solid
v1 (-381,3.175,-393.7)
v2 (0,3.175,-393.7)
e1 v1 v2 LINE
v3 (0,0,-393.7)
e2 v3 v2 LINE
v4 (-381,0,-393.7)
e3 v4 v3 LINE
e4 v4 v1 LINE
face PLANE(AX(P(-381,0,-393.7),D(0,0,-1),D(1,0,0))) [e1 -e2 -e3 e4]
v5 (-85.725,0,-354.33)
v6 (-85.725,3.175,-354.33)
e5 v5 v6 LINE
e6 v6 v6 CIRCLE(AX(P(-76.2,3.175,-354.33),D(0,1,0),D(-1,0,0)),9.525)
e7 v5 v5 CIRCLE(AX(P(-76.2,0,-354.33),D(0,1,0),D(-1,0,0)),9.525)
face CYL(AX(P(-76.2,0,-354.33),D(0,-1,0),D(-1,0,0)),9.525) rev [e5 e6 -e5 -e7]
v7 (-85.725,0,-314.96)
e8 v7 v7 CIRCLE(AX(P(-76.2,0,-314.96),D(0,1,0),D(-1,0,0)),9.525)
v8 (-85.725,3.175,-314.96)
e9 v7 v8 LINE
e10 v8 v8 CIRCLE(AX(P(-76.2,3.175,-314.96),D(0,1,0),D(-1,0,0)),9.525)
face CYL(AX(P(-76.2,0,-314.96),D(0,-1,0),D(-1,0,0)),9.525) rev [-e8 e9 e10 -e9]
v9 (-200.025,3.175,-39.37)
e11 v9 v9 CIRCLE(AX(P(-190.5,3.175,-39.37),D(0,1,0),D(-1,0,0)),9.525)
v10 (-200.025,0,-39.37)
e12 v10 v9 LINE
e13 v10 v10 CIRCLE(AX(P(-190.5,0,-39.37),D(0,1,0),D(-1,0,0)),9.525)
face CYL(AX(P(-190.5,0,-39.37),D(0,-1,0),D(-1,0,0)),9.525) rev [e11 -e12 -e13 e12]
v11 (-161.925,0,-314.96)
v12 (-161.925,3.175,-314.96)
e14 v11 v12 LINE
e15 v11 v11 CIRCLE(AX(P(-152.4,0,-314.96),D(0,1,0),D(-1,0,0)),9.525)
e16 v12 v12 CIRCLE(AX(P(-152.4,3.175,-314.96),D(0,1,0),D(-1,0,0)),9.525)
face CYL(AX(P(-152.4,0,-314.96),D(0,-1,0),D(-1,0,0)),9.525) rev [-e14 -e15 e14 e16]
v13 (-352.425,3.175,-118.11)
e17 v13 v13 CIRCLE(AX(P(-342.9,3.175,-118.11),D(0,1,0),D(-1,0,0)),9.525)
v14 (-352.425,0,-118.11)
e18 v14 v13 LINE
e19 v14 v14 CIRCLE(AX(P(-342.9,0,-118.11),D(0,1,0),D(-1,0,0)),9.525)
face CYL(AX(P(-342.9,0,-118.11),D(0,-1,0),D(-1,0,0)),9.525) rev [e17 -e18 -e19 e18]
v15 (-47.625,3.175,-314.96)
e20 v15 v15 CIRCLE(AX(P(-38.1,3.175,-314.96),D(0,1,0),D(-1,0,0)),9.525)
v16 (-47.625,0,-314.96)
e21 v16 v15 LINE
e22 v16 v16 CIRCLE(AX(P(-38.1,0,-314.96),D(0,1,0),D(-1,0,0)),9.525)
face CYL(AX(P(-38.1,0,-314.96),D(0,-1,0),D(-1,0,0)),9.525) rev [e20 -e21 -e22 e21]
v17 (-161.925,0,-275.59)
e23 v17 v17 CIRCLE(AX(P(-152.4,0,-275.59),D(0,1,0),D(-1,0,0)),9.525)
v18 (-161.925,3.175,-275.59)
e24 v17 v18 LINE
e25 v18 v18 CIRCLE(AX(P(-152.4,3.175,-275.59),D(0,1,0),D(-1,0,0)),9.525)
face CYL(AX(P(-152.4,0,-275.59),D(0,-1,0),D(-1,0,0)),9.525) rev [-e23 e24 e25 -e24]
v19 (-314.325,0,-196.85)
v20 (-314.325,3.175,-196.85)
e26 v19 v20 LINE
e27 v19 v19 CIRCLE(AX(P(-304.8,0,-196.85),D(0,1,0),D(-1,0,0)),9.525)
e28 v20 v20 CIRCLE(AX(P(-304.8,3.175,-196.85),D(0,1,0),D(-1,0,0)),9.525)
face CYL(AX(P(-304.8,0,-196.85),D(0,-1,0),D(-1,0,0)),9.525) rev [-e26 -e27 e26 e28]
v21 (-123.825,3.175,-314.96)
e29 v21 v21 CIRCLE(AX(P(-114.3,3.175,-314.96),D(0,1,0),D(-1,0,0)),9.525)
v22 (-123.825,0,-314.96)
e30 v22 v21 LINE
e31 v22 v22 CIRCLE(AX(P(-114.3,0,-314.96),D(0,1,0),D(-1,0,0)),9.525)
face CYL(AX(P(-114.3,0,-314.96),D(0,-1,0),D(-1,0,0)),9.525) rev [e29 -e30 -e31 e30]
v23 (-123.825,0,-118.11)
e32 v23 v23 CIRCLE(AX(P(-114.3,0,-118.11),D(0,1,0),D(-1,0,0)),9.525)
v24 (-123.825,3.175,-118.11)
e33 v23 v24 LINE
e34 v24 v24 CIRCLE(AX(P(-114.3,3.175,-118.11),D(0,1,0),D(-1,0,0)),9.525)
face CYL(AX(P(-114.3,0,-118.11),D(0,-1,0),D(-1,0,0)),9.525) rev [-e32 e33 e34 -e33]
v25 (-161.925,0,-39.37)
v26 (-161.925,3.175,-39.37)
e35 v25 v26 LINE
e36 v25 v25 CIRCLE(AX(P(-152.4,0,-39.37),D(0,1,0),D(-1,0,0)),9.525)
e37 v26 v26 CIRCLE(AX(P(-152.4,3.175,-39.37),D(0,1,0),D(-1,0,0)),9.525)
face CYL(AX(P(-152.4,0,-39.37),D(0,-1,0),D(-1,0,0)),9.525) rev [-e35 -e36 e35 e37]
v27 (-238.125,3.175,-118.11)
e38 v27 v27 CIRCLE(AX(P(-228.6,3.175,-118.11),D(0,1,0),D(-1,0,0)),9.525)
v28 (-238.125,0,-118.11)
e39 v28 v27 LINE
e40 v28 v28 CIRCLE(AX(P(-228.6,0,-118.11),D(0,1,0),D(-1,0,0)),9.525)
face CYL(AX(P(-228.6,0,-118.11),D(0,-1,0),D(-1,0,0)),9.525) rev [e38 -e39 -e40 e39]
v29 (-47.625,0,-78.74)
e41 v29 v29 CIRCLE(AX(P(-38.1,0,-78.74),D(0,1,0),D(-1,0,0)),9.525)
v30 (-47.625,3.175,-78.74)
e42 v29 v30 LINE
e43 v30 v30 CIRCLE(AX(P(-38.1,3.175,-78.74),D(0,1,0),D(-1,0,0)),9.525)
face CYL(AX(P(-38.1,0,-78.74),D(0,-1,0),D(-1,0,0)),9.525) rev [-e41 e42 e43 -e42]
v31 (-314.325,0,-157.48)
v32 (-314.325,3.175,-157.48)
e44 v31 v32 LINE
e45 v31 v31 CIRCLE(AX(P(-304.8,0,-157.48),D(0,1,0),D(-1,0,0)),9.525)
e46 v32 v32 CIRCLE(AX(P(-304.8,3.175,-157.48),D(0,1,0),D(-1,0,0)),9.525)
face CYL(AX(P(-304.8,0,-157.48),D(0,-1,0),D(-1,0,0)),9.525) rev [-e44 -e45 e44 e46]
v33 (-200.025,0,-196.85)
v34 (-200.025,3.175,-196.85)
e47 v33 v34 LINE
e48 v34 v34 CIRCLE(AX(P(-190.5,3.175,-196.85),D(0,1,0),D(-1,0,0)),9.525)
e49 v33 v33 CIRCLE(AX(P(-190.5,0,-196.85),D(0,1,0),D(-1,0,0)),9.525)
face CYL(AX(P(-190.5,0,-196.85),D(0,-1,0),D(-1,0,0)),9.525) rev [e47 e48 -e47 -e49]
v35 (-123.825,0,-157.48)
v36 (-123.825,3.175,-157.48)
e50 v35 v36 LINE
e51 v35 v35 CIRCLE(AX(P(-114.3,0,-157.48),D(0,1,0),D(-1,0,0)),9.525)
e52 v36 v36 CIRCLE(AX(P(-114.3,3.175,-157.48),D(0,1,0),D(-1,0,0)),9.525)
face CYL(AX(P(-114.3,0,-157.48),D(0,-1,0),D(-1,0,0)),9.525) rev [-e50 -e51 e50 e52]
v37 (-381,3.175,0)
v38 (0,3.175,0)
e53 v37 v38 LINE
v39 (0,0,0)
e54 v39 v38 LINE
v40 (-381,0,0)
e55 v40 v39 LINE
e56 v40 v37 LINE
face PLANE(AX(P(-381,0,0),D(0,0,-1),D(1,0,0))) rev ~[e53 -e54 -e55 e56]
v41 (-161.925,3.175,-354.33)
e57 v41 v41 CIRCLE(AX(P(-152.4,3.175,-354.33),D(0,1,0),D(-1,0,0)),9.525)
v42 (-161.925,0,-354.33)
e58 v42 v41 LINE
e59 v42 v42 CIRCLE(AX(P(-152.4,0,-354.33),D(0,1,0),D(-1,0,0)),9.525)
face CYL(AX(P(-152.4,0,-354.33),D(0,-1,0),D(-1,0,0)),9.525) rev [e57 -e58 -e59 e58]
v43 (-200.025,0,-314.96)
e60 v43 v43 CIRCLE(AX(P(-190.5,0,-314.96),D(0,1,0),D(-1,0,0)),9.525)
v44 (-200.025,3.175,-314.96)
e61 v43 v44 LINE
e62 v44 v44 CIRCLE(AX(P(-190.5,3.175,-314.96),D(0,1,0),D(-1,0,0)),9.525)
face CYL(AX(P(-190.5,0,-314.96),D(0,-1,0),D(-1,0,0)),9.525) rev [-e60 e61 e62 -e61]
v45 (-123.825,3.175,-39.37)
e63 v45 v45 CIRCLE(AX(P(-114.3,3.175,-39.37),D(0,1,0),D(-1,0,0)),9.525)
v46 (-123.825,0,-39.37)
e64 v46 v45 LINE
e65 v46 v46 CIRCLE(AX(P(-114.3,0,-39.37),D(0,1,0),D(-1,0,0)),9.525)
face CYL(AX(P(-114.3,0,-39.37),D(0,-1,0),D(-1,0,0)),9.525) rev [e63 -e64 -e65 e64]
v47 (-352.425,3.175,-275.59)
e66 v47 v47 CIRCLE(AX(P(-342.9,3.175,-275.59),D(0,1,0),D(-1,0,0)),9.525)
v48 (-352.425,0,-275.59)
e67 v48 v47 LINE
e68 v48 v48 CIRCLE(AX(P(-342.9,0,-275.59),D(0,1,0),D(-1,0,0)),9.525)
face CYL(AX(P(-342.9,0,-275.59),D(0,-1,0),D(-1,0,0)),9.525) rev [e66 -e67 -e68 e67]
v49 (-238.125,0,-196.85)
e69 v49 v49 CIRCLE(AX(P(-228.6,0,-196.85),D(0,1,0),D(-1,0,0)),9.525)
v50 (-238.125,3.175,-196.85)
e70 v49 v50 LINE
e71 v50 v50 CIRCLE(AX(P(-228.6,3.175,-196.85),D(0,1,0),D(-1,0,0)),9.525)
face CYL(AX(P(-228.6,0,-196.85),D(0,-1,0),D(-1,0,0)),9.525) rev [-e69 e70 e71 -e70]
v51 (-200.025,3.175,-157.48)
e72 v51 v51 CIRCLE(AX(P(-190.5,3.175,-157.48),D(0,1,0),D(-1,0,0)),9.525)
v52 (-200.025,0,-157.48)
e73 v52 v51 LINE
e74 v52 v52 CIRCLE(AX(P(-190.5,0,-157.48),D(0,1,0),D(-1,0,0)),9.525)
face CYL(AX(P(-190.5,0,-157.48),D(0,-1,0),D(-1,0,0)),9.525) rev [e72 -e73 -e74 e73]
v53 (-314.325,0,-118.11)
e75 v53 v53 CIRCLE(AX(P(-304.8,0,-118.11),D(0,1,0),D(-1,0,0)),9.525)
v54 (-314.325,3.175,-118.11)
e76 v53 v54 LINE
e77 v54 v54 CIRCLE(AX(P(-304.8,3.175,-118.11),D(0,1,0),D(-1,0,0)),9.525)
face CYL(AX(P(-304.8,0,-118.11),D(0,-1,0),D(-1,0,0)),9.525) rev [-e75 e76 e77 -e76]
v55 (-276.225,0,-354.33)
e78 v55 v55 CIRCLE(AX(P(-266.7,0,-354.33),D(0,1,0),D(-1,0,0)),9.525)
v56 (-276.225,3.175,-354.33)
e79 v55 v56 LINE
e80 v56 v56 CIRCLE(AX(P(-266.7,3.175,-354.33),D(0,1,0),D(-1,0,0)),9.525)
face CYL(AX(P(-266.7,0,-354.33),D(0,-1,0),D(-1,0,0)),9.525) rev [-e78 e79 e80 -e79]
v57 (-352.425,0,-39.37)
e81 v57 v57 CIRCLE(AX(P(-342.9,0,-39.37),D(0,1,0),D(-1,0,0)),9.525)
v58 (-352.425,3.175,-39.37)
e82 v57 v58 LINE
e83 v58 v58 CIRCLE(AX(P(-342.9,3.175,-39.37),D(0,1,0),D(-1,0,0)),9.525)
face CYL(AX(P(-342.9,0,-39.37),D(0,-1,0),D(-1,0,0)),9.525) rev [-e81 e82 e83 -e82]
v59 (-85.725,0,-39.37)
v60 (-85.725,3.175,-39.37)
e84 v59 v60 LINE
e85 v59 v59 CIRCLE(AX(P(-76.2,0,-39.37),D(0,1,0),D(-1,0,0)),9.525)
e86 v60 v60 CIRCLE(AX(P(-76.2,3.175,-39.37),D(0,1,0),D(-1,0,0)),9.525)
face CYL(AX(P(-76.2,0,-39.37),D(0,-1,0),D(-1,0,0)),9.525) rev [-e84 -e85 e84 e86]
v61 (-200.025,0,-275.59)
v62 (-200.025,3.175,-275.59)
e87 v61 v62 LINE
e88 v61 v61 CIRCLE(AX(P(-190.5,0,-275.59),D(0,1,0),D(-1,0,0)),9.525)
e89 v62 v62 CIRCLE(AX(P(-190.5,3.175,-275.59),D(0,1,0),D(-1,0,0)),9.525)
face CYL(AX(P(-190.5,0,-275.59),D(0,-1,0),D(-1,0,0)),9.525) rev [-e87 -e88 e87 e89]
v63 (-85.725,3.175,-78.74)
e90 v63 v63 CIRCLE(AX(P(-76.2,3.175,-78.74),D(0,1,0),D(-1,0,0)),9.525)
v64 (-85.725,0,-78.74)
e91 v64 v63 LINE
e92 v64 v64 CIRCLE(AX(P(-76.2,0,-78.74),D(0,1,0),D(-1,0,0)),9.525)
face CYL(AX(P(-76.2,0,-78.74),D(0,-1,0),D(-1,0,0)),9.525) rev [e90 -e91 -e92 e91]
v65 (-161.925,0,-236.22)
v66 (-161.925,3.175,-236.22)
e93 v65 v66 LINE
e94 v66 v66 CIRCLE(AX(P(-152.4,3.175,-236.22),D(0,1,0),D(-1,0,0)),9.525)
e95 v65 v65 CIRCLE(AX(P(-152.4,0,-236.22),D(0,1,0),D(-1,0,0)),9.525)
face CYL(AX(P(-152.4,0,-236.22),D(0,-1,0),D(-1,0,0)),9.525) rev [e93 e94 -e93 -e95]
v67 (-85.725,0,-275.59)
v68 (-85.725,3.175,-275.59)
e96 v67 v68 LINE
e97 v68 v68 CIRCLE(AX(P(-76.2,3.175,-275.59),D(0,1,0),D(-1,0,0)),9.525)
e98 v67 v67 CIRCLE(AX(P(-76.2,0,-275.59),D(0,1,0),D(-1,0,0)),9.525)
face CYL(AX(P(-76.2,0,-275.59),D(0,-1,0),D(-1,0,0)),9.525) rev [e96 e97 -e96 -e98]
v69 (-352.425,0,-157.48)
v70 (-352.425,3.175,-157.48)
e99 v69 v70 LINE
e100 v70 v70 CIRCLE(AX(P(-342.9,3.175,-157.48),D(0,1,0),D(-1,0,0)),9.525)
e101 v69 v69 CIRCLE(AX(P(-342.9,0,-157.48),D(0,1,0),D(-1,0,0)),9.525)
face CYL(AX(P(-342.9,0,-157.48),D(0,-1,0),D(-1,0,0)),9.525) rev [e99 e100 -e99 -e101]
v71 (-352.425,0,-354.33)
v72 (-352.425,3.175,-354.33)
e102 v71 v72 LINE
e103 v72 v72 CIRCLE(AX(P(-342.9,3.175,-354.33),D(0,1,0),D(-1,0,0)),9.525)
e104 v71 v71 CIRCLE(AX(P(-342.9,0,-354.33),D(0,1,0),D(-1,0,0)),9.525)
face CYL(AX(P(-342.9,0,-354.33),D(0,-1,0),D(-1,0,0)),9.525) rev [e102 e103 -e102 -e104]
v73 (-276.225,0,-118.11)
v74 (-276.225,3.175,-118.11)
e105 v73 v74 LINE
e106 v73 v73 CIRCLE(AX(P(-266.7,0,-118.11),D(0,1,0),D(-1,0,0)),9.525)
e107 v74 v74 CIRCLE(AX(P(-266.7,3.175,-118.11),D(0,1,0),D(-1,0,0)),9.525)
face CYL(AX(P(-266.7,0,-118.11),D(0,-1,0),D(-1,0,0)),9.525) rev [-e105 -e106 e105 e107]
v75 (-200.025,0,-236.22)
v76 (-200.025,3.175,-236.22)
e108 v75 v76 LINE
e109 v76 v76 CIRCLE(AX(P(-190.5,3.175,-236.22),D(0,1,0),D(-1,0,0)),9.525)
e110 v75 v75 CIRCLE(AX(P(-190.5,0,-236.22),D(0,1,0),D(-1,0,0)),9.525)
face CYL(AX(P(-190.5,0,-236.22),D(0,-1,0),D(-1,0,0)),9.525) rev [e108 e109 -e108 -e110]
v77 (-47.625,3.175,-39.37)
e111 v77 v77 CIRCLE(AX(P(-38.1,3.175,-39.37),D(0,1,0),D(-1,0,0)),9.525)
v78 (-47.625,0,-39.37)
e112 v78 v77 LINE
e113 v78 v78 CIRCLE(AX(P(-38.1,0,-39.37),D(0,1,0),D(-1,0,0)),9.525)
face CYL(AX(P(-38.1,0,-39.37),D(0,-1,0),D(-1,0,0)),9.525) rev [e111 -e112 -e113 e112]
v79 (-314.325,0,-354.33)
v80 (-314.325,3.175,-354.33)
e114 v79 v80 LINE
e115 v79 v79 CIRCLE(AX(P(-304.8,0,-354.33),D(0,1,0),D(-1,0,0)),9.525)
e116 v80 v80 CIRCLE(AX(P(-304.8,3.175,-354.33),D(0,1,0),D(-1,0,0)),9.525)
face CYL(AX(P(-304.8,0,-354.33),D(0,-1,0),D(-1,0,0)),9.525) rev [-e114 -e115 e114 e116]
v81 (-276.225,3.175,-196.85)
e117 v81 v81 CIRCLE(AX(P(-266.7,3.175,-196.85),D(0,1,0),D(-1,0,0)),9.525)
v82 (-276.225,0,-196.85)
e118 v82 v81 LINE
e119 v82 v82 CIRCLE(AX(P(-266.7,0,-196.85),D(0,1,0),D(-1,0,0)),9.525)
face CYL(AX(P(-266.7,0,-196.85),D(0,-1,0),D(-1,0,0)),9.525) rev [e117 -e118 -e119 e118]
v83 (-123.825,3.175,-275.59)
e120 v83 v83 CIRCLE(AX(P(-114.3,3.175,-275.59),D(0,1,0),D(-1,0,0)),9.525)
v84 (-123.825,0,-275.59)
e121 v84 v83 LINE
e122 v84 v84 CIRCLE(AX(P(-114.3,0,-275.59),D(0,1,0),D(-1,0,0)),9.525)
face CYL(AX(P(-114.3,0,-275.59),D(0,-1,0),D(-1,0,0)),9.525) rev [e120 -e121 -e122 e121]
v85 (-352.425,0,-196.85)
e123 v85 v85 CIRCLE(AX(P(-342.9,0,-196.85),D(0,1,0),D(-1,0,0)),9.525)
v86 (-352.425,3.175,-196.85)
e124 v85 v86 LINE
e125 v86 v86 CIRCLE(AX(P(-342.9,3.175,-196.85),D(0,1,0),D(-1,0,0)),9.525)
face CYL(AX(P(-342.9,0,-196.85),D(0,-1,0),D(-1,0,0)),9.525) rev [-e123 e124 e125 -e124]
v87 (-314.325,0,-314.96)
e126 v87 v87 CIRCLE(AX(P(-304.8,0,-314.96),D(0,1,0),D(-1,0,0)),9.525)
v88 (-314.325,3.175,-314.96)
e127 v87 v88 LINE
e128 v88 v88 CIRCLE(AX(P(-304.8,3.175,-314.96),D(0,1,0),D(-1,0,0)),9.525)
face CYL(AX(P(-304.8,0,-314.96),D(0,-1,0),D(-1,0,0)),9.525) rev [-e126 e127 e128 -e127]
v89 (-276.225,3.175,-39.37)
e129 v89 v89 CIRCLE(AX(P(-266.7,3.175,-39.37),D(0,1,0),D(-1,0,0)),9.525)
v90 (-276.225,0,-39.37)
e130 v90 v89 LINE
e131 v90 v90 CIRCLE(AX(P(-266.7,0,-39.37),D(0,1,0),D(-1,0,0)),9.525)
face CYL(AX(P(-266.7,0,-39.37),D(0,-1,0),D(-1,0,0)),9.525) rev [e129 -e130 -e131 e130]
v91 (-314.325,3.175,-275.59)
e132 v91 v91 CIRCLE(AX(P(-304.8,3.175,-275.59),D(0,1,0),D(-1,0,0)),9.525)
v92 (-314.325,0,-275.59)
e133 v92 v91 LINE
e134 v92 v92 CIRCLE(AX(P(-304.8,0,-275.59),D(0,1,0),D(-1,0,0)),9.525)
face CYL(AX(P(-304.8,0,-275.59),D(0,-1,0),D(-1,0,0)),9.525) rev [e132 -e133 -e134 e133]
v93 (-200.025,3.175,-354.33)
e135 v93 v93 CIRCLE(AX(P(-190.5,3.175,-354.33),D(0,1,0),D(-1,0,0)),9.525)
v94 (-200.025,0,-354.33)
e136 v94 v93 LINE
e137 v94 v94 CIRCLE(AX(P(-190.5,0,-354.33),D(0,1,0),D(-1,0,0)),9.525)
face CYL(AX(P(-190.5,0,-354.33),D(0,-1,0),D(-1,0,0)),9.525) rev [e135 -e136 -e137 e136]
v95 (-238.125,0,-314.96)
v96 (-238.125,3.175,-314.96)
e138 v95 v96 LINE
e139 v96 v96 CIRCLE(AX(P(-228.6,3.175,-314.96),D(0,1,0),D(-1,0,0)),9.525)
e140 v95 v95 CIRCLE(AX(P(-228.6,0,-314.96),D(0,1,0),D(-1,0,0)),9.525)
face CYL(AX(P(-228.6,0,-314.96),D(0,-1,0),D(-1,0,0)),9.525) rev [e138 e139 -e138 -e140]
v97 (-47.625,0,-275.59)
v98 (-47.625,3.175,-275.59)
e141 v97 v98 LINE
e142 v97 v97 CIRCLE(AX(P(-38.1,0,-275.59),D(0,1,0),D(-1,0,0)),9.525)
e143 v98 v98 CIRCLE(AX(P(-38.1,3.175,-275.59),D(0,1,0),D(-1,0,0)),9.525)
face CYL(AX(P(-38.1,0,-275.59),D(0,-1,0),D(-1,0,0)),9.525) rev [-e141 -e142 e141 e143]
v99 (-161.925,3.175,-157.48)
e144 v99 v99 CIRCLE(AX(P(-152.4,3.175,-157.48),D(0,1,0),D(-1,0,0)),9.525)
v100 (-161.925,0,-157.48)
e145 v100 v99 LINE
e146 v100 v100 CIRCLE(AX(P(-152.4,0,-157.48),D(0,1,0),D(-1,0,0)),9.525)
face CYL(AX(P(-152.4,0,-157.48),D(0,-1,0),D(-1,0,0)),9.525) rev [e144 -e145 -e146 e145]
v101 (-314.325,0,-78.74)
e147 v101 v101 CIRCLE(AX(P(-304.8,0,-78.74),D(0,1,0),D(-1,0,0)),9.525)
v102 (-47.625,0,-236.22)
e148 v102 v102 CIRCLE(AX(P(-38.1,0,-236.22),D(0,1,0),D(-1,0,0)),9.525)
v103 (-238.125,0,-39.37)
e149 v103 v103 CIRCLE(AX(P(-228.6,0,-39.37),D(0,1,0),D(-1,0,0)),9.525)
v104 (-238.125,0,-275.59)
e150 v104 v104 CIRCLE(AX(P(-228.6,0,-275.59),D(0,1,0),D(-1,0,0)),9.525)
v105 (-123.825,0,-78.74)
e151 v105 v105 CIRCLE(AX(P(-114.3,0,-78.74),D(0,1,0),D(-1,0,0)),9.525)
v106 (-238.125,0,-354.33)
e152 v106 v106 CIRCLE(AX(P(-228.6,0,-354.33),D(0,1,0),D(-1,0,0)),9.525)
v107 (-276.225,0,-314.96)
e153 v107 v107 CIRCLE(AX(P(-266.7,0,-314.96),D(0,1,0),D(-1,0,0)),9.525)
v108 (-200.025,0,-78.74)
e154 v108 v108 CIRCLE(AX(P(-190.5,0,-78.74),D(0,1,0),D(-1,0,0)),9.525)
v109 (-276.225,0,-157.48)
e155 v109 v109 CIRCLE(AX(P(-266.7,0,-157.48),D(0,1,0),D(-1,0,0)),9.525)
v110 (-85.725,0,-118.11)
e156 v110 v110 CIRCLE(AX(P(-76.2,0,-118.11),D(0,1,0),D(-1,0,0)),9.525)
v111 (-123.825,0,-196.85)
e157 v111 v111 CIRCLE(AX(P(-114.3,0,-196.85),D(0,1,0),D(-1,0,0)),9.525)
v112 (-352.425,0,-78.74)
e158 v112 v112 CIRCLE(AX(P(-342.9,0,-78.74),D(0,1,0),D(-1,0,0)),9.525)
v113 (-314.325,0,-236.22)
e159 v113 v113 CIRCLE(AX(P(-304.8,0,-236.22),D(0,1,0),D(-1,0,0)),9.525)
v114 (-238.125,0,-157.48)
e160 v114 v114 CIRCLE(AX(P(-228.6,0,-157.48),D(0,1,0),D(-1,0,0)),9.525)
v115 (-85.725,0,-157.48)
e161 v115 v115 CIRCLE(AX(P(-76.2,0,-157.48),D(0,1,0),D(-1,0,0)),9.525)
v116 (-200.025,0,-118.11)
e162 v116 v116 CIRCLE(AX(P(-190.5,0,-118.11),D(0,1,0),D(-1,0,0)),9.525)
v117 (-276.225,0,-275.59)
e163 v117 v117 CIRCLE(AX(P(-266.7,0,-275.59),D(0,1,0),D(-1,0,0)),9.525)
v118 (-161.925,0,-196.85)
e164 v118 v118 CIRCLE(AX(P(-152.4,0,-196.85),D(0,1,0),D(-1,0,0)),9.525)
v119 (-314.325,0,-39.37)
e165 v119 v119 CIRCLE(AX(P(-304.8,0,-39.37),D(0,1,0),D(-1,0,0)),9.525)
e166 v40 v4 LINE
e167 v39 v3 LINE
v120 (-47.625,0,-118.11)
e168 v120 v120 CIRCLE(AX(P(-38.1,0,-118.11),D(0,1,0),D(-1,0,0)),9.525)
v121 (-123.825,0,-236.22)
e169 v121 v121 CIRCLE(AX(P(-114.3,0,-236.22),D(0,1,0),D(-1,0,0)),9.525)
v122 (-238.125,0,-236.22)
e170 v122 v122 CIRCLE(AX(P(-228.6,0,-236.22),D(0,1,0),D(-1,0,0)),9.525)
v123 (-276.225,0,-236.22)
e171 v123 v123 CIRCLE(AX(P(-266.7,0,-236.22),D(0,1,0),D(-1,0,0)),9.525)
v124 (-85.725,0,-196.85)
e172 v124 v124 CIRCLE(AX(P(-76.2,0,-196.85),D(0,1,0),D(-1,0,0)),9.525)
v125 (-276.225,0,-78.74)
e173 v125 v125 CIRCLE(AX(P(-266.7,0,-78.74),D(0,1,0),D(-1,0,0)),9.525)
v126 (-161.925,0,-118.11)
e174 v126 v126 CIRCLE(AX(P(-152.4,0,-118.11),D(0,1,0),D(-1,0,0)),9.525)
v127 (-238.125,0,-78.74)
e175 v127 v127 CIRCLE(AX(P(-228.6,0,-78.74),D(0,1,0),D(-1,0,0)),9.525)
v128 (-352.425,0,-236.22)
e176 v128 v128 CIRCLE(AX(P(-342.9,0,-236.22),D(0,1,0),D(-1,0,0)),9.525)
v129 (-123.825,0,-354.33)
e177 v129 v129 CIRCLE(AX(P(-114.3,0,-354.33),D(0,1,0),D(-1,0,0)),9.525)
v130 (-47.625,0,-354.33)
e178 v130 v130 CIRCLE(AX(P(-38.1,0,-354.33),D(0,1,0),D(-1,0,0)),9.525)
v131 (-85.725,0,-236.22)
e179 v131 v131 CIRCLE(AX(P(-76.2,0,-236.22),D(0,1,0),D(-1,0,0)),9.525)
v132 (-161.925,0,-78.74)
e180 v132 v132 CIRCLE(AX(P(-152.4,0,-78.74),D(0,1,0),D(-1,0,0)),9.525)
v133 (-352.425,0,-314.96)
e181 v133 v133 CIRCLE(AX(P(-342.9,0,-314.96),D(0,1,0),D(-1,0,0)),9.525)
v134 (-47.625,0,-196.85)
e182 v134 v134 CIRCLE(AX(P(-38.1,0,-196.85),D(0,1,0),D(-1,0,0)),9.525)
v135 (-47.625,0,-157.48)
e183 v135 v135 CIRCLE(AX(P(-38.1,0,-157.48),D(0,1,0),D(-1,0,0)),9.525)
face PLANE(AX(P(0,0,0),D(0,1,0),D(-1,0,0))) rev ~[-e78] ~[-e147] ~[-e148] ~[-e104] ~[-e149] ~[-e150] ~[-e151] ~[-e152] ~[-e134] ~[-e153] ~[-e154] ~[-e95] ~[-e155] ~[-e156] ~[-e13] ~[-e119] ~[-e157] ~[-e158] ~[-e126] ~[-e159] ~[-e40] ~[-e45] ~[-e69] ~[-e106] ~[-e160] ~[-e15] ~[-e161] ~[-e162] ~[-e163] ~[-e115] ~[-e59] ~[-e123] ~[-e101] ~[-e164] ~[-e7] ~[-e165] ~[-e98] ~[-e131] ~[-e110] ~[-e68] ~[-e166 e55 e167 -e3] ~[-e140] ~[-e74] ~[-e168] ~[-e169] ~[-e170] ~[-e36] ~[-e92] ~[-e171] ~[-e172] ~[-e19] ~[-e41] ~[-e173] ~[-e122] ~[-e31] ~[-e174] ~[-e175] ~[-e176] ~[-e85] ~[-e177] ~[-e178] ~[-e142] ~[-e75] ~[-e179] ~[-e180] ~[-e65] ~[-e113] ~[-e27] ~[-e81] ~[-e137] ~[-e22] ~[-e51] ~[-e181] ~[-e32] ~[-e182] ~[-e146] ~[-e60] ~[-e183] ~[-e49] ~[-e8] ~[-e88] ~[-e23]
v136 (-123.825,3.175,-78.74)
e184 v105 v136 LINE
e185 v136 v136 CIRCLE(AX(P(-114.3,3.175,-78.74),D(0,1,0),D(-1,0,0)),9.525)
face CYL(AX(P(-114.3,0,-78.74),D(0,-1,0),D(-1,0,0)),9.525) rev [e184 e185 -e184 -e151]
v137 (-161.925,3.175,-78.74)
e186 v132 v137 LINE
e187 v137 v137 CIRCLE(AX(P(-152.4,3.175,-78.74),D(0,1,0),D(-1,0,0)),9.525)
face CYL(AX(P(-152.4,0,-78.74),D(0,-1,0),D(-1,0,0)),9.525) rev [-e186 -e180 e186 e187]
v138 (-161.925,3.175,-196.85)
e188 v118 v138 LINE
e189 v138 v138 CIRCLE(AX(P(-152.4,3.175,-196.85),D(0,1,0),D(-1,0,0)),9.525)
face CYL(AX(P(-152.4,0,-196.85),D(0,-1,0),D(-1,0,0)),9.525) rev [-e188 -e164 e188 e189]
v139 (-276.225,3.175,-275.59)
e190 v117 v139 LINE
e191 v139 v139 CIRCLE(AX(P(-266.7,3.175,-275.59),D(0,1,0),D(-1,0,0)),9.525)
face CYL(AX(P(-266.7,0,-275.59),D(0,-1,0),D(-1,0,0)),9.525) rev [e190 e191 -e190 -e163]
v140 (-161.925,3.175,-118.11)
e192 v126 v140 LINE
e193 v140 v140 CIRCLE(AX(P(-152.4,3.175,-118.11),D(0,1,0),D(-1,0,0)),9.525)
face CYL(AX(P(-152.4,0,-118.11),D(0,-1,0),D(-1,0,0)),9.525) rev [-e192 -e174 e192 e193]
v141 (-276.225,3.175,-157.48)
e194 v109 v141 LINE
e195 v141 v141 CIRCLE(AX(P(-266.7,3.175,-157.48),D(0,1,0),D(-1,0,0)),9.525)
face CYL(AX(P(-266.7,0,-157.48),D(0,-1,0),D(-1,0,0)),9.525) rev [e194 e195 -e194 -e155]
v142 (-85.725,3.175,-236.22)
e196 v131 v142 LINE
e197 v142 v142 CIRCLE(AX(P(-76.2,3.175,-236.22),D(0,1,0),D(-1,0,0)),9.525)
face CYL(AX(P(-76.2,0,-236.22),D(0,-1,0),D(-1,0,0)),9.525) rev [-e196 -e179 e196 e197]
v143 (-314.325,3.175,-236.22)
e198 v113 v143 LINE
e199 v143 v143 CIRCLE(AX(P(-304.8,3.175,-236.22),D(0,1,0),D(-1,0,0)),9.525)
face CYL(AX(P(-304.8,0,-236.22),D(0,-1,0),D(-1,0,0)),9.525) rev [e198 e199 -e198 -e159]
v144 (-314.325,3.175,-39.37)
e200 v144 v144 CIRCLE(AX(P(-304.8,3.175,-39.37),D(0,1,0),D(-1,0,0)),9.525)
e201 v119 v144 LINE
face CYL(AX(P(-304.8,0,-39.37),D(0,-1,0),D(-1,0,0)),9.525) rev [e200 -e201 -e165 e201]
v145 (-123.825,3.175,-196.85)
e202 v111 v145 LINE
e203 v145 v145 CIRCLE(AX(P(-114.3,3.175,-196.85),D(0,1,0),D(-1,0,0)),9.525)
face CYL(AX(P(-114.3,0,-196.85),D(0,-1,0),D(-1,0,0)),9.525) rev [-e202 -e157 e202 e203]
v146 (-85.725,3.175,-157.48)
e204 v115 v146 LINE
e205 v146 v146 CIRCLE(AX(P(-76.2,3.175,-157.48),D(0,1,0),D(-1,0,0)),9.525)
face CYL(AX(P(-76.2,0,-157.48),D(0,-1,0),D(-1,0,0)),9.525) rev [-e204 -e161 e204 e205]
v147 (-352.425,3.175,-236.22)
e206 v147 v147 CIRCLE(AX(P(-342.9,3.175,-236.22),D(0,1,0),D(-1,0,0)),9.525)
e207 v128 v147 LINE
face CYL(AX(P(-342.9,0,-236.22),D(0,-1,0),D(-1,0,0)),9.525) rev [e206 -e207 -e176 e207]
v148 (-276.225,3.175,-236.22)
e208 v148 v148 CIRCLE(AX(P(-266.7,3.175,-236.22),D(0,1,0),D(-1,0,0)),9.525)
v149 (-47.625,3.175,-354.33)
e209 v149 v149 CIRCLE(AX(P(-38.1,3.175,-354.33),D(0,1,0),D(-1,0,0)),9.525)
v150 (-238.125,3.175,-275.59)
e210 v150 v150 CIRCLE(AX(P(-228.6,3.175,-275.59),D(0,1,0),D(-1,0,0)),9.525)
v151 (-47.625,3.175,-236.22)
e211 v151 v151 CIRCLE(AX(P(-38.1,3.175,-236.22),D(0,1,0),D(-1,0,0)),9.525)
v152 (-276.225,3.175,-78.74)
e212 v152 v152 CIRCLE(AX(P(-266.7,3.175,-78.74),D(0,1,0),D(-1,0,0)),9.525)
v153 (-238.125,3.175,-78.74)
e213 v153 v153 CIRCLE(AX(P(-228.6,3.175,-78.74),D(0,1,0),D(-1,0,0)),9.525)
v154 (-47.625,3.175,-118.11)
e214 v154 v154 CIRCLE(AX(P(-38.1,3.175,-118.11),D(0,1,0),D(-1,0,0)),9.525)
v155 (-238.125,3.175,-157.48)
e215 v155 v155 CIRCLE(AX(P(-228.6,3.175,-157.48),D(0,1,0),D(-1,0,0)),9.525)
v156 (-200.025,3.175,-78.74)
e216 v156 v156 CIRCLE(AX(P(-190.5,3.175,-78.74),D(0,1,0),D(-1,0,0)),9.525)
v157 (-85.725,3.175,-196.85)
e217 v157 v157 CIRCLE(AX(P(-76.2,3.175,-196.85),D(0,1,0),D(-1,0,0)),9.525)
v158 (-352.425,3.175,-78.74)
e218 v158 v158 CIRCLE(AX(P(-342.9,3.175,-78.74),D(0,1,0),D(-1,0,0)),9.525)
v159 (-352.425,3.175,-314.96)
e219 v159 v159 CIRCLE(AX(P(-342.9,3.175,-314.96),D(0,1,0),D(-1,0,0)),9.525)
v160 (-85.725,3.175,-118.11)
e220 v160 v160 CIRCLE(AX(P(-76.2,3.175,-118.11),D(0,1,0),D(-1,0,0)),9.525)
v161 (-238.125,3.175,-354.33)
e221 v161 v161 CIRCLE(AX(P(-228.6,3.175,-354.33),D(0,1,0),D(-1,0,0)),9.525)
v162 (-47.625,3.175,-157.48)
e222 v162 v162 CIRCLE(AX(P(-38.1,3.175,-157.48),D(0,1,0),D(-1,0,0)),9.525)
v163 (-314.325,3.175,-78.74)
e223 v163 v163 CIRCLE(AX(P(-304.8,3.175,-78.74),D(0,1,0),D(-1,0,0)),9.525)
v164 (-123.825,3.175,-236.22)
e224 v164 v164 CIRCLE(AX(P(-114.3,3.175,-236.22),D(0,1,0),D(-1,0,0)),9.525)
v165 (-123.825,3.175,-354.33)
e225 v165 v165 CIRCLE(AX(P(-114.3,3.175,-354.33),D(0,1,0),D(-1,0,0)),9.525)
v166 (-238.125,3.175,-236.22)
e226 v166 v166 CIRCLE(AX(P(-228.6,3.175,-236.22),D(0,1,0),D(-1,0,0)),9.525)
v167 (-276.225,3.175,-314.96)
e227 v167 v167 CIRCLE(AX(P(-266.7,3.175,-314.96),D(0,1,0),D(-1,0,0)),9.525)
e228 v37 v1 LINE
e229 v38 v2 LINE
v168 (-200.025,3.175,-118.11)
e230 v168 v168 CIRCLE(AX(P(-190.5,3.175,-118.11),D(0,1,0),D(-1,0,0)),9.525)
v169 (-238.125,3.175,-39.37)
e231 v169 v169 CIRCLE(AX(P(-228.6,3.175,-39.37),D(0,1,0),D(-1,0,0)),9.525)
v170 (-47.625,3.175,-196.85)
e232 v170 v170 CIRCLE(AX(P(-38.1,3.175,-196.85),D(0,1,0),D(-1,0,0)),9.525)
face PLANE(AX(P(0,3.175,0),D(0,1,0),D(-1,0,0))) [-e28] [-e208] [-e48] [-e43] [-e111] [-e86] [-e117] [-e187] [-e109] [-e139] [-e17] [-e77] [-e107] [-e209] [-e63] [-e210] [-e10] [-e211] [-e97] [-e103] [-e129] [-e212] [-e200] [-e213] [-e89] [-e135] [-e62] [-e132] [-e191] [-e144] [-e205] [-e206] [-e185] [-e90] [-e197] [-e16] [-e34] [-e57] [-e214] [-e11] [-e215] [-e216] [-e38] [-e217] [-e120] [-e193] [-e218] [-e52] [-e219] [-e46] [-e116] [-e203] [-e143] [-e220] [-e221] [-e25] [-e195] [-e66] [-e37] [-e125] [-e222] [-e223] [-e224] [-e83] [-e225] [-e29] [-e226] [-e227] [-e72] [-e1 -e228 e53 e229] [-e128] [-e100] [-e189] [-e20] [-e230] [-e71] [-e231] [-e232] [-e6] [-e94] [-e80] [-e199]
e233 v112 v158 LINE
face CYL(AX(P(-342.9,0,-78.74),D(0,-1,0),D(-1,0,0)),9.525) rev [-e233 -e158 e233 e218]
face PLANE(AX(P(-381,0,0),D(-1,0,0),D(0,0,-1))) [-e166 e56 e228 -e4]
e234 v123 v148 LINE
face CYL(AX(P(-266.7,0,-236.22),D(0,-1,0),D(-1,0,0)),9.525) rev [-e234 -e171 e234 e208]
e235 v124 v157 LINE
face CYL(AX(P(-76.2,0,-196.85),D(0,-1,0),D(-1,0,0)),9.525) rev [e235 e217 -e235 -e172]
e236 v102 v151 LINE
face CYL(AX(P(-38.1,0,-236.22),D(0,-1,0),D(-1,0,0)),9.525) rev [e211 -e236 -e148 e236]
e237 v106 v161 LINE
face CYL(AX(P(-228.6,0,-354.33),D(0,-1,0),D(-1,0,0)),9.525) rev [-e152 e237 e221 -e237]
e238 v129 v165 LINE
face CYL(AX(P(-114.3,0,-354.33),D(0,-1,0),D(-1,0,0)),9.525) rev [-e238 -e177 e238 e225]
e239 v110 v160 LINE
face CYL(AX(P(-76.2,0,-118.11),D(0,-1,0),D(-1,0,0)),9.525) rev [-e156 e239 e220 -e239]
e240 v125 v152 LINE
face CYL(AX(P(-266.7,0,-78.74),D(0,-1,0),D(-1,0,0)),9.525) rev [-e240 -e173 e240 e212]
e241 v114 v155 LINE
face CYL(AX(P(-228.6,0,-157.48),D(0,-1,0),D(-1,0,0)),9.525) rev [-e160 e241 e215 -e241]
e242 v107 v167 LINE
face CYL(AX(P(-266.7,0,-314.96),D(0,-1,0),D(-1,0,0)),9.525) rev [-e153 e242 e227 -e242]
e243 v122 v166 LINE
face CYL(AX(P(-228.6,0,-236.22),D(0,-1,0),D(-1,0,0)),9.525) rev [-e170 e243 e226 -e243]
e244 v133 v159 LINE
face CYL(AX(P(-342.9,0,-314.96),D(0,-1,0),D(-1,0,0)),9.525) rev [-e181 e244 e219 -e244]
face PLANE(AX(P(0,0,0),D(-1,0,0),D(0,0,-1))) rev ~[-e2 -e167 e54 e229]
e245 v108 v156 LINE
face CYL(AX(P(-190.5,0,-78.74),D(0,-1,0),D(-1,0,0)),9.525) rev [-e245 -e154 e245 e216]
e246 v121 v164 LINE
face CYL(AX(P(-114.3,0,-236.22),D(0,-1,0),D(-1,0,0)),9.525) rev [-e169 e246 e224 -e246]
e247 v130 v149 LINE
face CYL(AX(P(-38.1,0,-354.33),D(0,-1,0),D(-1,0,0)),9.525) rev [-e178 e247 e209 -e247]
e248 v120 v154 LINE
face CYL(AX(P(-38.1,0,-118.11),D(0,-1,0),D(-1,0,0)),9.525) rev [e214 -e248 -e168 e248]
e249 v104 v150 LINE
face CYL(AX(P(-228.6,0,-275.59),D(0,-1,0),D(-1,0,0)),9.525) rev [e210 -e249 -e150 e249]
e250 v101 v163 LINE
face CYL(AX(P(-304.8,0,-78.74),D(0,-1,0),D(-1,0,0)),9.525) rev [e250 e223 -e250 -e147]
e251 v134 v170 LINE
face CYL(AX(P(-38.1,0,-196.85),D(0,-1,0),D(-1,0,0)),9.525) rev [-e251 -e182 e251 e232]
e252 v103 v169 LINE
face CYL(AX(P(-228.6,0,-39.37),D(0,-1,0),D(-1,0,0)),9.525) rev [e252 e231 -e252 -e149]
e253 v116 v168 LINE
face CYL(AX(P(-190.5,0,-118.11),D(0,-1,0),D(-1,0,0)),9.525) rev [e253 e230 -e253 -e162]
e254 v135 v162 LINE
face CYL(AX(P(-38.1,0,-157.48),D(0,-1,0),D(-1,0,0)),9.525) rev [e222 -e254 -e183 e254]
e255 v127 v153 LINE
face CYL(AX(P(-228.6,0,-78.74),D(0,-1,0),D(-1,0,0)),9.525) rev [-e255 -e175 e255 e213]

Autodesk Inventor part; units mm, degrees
ref_plane "YZ Plane" through (0, 0, 0) normal (1, 0, 0) x (0, 1, 0)
ref_plane "XZ Plane" through (0, 0, 0) normal (0, 1, 0) x (-1, 0, 0)
ref_plane "XY Plane" through (0, 0, 0) normal (0, 0, 1) x (1, 0, 0)
sketch "Sketch4" plane through (0, 0, 0) normal (0, 1, 0) x (-1, 0, 0)
  circle A0 centre (38.1, -39.37) radius 9.525
  line L0 (0, 0) -> (0, -393.7)
  line L1 (381, 0) -> (0, 0)
  circle A1 centre (76.2, -39.37) radius 9.525
  circle A2 centre (114.3, -39.37) radius 9.525
  circle A3 centre (152.4, -39.37) radius 9.525
  circle A4 centre (190.5, -39.37) radius 9.525
  circle A5 centre (228.6, -39.37) radius 9.525
  circle A6 centre (266.7, -39.37) radius 9.525
  circle A7 centre (304.8, -39.37) radius 9.525
  circle A8 centre (342.9, -39.37) radius 9.525
  circle A9 centre (38.1, -78.74) radius 9.525
  circle A10 centre (76.2, -78.74) radius 9.525
  circle A11 centre (114.3, -78.74) radius 9.525
  circle A12 centre (152.4, -78.74) radius 9.525
  circle A13 centre (190.5, -78.74) radius 9.525
  circle A14 centre (228.6, -78.74) radius 9.525
  circle A15 centre (266.7, -78.74) radius 9.525
  circle A16 centre (304.8, -78.74) radius 9.525
  circle A17 centre (342.9, -78.74) radius 9.525
  circle A18 centre (38.1, -118.11) radius 9.525
  circle A19 centre (76.2, -118.11) radius 9.525
  circle A20 centre (114.3, -118.11) radius 9.525
  circle A21 centre (152.4, -118.11) radius 9.525
  circle A22 centre (190.5, -118.11) radius 9.525
  circle A23 centre (228.6, -118.11) radius 9.525
  circle A24 centre (266.7, -118.11) radius 9.525
  circle A25 centre (304.8, -118.11) radius 9.525
  circle A26 centre (342.9, -118.11) radius 9.525
  circle A27 centre (38.1, -157.48) radius 9.525
  circle A28 centre (76.2, -157.48) radius 9.525
  circle A29 centre (114.3, -157.48) radius 9.525
  circle A30 centre (152.4, -157.48) radius 9.525
  circle A31 centre (190.5, -157.48) radius 9.525
  circle A32 centre (228.6, -157.48) radius 9.525
  circle A33 centre (266.7, -157.48) radius 9.525
  circle A34 centre (304.8, -157.48) radius 9.525
  circle A35 centre (342.9, -157.48) radius 9.525
  circle A36 centre (38.1, -196.85) radius 9.525
  circle A37 centre (76.2, -196.85) radius 9.525
  circle A38 centre (114.3, -196.85) radius 9.525
  circle A39 centre (152.4, -196.85) radius 9.525
  circle A40 centre (190.5, -196.85) radius 9.525
  circle A41 centre (228.6, -196.85) radius 9.525
  circle A42 centre (266.7, -196.85) radius 9.525
  circle A43 centre (304.8, -196.85) radius 9.525
  circle A44 centre (342.9, -196.85) radius 9.525
  circle A45 centre (38.1, -236.22) radius 9.525
  circle A46 centre (76.2, -236.22) radius 9.525
  circle A47 centre (114.3, -236.22) radius 9.525
  circle A48 centre (152.4, -236.22) radius 9.525
  circle A49 centre (190.5, -236.22) radius 9.525
  circle A50 centre (228.6, -236.22) radius 9.525
  circle A51 centre (266.7, -236.22) radius 9.525
  circle A52 centre (304.8, -236.22) radius 9.525
  circle A53 centre (342.9, -236.22) radius 9.525
  circle A54 centre (38.1, -275.59) radius 9.525
  circle A55 centre (76.2, -275.59) radius 9.525
  circle A56 centre (114.3, -275.59) radius 9.525
  circle A57 centre (152.4, -275.59) radius 9.525
  circle A58 centre (190.5, -275.59) radius 9.525
  circle A59 centre (228.6, -275.59) radius 9.525
  circle A60 centre (266.7, -275.59) radius 9.525
  circle A61 centre (304.8, -275.59) radius 9.525
  circle A62 centre (342.9, -275.59) radius 9.525
  circle A63 centre (38.1, -314.96) radius 9.525
  circle A64 centre (76.2, -314.96) radius 9.525
  circle A65 centre (114.3, -314.96) radius 9.525
  circle A66 centre (152.4, -314.96) radius 9.525
  circle A67 centre (190.5, -314.96) radius 9.525
  circle A68 centre (228.6, -314.96) radius 9.525
  circle A69 centre (266.7, -314.96) radius 9.525
  circle A70 centre (304.8, -314.96) radius 9.525
  circle A71 centre (342.9, -314.96) radius 9.525
  circle A72 centre (38.1, -354.33) radius 9.525
  circle A73 centre (76.2, -354.33) radius 9.525
  circle A74 centre (114.3, -354.33) radius 9.525
  circle A75 centre (152.4, -354.33) radius 9.525
  circle A76 centre (190.5, -354.33) radius 9.525
  circle A77 centre (228.6, -354.33) radius 9.525
  circle A78 centre (266.7, -354.33) radius 9.525
  circle A79 centre (304.8, -354.33) radius 9.525
  circle A80 centre (342.9, -354.33) radius 9.525
  line L2 (0, 0) -> (381, 0)
  line L3 (381, 0) -> (381, -393.7)
  line L4 (381, -393.7) -> (0, -393.7)
  line L5 (0, -393.7) -> (0, 0)
  dimension "d52" = 19.05
  dimension "d53" = 38.1
  dimension "d54" = 39.37
  dimension "d55" = 38.1
  dimension "d56" = 39.37
  dimension "d57" = 381
  dimension "d58" = 393.7
  dimension "d59" = 39.37
  dimension "d60" = 38.1
extrude "Extrusion3" add sketch "Sketch4" along normal blind 3.175
properties part number "Electronics Base Plate"
